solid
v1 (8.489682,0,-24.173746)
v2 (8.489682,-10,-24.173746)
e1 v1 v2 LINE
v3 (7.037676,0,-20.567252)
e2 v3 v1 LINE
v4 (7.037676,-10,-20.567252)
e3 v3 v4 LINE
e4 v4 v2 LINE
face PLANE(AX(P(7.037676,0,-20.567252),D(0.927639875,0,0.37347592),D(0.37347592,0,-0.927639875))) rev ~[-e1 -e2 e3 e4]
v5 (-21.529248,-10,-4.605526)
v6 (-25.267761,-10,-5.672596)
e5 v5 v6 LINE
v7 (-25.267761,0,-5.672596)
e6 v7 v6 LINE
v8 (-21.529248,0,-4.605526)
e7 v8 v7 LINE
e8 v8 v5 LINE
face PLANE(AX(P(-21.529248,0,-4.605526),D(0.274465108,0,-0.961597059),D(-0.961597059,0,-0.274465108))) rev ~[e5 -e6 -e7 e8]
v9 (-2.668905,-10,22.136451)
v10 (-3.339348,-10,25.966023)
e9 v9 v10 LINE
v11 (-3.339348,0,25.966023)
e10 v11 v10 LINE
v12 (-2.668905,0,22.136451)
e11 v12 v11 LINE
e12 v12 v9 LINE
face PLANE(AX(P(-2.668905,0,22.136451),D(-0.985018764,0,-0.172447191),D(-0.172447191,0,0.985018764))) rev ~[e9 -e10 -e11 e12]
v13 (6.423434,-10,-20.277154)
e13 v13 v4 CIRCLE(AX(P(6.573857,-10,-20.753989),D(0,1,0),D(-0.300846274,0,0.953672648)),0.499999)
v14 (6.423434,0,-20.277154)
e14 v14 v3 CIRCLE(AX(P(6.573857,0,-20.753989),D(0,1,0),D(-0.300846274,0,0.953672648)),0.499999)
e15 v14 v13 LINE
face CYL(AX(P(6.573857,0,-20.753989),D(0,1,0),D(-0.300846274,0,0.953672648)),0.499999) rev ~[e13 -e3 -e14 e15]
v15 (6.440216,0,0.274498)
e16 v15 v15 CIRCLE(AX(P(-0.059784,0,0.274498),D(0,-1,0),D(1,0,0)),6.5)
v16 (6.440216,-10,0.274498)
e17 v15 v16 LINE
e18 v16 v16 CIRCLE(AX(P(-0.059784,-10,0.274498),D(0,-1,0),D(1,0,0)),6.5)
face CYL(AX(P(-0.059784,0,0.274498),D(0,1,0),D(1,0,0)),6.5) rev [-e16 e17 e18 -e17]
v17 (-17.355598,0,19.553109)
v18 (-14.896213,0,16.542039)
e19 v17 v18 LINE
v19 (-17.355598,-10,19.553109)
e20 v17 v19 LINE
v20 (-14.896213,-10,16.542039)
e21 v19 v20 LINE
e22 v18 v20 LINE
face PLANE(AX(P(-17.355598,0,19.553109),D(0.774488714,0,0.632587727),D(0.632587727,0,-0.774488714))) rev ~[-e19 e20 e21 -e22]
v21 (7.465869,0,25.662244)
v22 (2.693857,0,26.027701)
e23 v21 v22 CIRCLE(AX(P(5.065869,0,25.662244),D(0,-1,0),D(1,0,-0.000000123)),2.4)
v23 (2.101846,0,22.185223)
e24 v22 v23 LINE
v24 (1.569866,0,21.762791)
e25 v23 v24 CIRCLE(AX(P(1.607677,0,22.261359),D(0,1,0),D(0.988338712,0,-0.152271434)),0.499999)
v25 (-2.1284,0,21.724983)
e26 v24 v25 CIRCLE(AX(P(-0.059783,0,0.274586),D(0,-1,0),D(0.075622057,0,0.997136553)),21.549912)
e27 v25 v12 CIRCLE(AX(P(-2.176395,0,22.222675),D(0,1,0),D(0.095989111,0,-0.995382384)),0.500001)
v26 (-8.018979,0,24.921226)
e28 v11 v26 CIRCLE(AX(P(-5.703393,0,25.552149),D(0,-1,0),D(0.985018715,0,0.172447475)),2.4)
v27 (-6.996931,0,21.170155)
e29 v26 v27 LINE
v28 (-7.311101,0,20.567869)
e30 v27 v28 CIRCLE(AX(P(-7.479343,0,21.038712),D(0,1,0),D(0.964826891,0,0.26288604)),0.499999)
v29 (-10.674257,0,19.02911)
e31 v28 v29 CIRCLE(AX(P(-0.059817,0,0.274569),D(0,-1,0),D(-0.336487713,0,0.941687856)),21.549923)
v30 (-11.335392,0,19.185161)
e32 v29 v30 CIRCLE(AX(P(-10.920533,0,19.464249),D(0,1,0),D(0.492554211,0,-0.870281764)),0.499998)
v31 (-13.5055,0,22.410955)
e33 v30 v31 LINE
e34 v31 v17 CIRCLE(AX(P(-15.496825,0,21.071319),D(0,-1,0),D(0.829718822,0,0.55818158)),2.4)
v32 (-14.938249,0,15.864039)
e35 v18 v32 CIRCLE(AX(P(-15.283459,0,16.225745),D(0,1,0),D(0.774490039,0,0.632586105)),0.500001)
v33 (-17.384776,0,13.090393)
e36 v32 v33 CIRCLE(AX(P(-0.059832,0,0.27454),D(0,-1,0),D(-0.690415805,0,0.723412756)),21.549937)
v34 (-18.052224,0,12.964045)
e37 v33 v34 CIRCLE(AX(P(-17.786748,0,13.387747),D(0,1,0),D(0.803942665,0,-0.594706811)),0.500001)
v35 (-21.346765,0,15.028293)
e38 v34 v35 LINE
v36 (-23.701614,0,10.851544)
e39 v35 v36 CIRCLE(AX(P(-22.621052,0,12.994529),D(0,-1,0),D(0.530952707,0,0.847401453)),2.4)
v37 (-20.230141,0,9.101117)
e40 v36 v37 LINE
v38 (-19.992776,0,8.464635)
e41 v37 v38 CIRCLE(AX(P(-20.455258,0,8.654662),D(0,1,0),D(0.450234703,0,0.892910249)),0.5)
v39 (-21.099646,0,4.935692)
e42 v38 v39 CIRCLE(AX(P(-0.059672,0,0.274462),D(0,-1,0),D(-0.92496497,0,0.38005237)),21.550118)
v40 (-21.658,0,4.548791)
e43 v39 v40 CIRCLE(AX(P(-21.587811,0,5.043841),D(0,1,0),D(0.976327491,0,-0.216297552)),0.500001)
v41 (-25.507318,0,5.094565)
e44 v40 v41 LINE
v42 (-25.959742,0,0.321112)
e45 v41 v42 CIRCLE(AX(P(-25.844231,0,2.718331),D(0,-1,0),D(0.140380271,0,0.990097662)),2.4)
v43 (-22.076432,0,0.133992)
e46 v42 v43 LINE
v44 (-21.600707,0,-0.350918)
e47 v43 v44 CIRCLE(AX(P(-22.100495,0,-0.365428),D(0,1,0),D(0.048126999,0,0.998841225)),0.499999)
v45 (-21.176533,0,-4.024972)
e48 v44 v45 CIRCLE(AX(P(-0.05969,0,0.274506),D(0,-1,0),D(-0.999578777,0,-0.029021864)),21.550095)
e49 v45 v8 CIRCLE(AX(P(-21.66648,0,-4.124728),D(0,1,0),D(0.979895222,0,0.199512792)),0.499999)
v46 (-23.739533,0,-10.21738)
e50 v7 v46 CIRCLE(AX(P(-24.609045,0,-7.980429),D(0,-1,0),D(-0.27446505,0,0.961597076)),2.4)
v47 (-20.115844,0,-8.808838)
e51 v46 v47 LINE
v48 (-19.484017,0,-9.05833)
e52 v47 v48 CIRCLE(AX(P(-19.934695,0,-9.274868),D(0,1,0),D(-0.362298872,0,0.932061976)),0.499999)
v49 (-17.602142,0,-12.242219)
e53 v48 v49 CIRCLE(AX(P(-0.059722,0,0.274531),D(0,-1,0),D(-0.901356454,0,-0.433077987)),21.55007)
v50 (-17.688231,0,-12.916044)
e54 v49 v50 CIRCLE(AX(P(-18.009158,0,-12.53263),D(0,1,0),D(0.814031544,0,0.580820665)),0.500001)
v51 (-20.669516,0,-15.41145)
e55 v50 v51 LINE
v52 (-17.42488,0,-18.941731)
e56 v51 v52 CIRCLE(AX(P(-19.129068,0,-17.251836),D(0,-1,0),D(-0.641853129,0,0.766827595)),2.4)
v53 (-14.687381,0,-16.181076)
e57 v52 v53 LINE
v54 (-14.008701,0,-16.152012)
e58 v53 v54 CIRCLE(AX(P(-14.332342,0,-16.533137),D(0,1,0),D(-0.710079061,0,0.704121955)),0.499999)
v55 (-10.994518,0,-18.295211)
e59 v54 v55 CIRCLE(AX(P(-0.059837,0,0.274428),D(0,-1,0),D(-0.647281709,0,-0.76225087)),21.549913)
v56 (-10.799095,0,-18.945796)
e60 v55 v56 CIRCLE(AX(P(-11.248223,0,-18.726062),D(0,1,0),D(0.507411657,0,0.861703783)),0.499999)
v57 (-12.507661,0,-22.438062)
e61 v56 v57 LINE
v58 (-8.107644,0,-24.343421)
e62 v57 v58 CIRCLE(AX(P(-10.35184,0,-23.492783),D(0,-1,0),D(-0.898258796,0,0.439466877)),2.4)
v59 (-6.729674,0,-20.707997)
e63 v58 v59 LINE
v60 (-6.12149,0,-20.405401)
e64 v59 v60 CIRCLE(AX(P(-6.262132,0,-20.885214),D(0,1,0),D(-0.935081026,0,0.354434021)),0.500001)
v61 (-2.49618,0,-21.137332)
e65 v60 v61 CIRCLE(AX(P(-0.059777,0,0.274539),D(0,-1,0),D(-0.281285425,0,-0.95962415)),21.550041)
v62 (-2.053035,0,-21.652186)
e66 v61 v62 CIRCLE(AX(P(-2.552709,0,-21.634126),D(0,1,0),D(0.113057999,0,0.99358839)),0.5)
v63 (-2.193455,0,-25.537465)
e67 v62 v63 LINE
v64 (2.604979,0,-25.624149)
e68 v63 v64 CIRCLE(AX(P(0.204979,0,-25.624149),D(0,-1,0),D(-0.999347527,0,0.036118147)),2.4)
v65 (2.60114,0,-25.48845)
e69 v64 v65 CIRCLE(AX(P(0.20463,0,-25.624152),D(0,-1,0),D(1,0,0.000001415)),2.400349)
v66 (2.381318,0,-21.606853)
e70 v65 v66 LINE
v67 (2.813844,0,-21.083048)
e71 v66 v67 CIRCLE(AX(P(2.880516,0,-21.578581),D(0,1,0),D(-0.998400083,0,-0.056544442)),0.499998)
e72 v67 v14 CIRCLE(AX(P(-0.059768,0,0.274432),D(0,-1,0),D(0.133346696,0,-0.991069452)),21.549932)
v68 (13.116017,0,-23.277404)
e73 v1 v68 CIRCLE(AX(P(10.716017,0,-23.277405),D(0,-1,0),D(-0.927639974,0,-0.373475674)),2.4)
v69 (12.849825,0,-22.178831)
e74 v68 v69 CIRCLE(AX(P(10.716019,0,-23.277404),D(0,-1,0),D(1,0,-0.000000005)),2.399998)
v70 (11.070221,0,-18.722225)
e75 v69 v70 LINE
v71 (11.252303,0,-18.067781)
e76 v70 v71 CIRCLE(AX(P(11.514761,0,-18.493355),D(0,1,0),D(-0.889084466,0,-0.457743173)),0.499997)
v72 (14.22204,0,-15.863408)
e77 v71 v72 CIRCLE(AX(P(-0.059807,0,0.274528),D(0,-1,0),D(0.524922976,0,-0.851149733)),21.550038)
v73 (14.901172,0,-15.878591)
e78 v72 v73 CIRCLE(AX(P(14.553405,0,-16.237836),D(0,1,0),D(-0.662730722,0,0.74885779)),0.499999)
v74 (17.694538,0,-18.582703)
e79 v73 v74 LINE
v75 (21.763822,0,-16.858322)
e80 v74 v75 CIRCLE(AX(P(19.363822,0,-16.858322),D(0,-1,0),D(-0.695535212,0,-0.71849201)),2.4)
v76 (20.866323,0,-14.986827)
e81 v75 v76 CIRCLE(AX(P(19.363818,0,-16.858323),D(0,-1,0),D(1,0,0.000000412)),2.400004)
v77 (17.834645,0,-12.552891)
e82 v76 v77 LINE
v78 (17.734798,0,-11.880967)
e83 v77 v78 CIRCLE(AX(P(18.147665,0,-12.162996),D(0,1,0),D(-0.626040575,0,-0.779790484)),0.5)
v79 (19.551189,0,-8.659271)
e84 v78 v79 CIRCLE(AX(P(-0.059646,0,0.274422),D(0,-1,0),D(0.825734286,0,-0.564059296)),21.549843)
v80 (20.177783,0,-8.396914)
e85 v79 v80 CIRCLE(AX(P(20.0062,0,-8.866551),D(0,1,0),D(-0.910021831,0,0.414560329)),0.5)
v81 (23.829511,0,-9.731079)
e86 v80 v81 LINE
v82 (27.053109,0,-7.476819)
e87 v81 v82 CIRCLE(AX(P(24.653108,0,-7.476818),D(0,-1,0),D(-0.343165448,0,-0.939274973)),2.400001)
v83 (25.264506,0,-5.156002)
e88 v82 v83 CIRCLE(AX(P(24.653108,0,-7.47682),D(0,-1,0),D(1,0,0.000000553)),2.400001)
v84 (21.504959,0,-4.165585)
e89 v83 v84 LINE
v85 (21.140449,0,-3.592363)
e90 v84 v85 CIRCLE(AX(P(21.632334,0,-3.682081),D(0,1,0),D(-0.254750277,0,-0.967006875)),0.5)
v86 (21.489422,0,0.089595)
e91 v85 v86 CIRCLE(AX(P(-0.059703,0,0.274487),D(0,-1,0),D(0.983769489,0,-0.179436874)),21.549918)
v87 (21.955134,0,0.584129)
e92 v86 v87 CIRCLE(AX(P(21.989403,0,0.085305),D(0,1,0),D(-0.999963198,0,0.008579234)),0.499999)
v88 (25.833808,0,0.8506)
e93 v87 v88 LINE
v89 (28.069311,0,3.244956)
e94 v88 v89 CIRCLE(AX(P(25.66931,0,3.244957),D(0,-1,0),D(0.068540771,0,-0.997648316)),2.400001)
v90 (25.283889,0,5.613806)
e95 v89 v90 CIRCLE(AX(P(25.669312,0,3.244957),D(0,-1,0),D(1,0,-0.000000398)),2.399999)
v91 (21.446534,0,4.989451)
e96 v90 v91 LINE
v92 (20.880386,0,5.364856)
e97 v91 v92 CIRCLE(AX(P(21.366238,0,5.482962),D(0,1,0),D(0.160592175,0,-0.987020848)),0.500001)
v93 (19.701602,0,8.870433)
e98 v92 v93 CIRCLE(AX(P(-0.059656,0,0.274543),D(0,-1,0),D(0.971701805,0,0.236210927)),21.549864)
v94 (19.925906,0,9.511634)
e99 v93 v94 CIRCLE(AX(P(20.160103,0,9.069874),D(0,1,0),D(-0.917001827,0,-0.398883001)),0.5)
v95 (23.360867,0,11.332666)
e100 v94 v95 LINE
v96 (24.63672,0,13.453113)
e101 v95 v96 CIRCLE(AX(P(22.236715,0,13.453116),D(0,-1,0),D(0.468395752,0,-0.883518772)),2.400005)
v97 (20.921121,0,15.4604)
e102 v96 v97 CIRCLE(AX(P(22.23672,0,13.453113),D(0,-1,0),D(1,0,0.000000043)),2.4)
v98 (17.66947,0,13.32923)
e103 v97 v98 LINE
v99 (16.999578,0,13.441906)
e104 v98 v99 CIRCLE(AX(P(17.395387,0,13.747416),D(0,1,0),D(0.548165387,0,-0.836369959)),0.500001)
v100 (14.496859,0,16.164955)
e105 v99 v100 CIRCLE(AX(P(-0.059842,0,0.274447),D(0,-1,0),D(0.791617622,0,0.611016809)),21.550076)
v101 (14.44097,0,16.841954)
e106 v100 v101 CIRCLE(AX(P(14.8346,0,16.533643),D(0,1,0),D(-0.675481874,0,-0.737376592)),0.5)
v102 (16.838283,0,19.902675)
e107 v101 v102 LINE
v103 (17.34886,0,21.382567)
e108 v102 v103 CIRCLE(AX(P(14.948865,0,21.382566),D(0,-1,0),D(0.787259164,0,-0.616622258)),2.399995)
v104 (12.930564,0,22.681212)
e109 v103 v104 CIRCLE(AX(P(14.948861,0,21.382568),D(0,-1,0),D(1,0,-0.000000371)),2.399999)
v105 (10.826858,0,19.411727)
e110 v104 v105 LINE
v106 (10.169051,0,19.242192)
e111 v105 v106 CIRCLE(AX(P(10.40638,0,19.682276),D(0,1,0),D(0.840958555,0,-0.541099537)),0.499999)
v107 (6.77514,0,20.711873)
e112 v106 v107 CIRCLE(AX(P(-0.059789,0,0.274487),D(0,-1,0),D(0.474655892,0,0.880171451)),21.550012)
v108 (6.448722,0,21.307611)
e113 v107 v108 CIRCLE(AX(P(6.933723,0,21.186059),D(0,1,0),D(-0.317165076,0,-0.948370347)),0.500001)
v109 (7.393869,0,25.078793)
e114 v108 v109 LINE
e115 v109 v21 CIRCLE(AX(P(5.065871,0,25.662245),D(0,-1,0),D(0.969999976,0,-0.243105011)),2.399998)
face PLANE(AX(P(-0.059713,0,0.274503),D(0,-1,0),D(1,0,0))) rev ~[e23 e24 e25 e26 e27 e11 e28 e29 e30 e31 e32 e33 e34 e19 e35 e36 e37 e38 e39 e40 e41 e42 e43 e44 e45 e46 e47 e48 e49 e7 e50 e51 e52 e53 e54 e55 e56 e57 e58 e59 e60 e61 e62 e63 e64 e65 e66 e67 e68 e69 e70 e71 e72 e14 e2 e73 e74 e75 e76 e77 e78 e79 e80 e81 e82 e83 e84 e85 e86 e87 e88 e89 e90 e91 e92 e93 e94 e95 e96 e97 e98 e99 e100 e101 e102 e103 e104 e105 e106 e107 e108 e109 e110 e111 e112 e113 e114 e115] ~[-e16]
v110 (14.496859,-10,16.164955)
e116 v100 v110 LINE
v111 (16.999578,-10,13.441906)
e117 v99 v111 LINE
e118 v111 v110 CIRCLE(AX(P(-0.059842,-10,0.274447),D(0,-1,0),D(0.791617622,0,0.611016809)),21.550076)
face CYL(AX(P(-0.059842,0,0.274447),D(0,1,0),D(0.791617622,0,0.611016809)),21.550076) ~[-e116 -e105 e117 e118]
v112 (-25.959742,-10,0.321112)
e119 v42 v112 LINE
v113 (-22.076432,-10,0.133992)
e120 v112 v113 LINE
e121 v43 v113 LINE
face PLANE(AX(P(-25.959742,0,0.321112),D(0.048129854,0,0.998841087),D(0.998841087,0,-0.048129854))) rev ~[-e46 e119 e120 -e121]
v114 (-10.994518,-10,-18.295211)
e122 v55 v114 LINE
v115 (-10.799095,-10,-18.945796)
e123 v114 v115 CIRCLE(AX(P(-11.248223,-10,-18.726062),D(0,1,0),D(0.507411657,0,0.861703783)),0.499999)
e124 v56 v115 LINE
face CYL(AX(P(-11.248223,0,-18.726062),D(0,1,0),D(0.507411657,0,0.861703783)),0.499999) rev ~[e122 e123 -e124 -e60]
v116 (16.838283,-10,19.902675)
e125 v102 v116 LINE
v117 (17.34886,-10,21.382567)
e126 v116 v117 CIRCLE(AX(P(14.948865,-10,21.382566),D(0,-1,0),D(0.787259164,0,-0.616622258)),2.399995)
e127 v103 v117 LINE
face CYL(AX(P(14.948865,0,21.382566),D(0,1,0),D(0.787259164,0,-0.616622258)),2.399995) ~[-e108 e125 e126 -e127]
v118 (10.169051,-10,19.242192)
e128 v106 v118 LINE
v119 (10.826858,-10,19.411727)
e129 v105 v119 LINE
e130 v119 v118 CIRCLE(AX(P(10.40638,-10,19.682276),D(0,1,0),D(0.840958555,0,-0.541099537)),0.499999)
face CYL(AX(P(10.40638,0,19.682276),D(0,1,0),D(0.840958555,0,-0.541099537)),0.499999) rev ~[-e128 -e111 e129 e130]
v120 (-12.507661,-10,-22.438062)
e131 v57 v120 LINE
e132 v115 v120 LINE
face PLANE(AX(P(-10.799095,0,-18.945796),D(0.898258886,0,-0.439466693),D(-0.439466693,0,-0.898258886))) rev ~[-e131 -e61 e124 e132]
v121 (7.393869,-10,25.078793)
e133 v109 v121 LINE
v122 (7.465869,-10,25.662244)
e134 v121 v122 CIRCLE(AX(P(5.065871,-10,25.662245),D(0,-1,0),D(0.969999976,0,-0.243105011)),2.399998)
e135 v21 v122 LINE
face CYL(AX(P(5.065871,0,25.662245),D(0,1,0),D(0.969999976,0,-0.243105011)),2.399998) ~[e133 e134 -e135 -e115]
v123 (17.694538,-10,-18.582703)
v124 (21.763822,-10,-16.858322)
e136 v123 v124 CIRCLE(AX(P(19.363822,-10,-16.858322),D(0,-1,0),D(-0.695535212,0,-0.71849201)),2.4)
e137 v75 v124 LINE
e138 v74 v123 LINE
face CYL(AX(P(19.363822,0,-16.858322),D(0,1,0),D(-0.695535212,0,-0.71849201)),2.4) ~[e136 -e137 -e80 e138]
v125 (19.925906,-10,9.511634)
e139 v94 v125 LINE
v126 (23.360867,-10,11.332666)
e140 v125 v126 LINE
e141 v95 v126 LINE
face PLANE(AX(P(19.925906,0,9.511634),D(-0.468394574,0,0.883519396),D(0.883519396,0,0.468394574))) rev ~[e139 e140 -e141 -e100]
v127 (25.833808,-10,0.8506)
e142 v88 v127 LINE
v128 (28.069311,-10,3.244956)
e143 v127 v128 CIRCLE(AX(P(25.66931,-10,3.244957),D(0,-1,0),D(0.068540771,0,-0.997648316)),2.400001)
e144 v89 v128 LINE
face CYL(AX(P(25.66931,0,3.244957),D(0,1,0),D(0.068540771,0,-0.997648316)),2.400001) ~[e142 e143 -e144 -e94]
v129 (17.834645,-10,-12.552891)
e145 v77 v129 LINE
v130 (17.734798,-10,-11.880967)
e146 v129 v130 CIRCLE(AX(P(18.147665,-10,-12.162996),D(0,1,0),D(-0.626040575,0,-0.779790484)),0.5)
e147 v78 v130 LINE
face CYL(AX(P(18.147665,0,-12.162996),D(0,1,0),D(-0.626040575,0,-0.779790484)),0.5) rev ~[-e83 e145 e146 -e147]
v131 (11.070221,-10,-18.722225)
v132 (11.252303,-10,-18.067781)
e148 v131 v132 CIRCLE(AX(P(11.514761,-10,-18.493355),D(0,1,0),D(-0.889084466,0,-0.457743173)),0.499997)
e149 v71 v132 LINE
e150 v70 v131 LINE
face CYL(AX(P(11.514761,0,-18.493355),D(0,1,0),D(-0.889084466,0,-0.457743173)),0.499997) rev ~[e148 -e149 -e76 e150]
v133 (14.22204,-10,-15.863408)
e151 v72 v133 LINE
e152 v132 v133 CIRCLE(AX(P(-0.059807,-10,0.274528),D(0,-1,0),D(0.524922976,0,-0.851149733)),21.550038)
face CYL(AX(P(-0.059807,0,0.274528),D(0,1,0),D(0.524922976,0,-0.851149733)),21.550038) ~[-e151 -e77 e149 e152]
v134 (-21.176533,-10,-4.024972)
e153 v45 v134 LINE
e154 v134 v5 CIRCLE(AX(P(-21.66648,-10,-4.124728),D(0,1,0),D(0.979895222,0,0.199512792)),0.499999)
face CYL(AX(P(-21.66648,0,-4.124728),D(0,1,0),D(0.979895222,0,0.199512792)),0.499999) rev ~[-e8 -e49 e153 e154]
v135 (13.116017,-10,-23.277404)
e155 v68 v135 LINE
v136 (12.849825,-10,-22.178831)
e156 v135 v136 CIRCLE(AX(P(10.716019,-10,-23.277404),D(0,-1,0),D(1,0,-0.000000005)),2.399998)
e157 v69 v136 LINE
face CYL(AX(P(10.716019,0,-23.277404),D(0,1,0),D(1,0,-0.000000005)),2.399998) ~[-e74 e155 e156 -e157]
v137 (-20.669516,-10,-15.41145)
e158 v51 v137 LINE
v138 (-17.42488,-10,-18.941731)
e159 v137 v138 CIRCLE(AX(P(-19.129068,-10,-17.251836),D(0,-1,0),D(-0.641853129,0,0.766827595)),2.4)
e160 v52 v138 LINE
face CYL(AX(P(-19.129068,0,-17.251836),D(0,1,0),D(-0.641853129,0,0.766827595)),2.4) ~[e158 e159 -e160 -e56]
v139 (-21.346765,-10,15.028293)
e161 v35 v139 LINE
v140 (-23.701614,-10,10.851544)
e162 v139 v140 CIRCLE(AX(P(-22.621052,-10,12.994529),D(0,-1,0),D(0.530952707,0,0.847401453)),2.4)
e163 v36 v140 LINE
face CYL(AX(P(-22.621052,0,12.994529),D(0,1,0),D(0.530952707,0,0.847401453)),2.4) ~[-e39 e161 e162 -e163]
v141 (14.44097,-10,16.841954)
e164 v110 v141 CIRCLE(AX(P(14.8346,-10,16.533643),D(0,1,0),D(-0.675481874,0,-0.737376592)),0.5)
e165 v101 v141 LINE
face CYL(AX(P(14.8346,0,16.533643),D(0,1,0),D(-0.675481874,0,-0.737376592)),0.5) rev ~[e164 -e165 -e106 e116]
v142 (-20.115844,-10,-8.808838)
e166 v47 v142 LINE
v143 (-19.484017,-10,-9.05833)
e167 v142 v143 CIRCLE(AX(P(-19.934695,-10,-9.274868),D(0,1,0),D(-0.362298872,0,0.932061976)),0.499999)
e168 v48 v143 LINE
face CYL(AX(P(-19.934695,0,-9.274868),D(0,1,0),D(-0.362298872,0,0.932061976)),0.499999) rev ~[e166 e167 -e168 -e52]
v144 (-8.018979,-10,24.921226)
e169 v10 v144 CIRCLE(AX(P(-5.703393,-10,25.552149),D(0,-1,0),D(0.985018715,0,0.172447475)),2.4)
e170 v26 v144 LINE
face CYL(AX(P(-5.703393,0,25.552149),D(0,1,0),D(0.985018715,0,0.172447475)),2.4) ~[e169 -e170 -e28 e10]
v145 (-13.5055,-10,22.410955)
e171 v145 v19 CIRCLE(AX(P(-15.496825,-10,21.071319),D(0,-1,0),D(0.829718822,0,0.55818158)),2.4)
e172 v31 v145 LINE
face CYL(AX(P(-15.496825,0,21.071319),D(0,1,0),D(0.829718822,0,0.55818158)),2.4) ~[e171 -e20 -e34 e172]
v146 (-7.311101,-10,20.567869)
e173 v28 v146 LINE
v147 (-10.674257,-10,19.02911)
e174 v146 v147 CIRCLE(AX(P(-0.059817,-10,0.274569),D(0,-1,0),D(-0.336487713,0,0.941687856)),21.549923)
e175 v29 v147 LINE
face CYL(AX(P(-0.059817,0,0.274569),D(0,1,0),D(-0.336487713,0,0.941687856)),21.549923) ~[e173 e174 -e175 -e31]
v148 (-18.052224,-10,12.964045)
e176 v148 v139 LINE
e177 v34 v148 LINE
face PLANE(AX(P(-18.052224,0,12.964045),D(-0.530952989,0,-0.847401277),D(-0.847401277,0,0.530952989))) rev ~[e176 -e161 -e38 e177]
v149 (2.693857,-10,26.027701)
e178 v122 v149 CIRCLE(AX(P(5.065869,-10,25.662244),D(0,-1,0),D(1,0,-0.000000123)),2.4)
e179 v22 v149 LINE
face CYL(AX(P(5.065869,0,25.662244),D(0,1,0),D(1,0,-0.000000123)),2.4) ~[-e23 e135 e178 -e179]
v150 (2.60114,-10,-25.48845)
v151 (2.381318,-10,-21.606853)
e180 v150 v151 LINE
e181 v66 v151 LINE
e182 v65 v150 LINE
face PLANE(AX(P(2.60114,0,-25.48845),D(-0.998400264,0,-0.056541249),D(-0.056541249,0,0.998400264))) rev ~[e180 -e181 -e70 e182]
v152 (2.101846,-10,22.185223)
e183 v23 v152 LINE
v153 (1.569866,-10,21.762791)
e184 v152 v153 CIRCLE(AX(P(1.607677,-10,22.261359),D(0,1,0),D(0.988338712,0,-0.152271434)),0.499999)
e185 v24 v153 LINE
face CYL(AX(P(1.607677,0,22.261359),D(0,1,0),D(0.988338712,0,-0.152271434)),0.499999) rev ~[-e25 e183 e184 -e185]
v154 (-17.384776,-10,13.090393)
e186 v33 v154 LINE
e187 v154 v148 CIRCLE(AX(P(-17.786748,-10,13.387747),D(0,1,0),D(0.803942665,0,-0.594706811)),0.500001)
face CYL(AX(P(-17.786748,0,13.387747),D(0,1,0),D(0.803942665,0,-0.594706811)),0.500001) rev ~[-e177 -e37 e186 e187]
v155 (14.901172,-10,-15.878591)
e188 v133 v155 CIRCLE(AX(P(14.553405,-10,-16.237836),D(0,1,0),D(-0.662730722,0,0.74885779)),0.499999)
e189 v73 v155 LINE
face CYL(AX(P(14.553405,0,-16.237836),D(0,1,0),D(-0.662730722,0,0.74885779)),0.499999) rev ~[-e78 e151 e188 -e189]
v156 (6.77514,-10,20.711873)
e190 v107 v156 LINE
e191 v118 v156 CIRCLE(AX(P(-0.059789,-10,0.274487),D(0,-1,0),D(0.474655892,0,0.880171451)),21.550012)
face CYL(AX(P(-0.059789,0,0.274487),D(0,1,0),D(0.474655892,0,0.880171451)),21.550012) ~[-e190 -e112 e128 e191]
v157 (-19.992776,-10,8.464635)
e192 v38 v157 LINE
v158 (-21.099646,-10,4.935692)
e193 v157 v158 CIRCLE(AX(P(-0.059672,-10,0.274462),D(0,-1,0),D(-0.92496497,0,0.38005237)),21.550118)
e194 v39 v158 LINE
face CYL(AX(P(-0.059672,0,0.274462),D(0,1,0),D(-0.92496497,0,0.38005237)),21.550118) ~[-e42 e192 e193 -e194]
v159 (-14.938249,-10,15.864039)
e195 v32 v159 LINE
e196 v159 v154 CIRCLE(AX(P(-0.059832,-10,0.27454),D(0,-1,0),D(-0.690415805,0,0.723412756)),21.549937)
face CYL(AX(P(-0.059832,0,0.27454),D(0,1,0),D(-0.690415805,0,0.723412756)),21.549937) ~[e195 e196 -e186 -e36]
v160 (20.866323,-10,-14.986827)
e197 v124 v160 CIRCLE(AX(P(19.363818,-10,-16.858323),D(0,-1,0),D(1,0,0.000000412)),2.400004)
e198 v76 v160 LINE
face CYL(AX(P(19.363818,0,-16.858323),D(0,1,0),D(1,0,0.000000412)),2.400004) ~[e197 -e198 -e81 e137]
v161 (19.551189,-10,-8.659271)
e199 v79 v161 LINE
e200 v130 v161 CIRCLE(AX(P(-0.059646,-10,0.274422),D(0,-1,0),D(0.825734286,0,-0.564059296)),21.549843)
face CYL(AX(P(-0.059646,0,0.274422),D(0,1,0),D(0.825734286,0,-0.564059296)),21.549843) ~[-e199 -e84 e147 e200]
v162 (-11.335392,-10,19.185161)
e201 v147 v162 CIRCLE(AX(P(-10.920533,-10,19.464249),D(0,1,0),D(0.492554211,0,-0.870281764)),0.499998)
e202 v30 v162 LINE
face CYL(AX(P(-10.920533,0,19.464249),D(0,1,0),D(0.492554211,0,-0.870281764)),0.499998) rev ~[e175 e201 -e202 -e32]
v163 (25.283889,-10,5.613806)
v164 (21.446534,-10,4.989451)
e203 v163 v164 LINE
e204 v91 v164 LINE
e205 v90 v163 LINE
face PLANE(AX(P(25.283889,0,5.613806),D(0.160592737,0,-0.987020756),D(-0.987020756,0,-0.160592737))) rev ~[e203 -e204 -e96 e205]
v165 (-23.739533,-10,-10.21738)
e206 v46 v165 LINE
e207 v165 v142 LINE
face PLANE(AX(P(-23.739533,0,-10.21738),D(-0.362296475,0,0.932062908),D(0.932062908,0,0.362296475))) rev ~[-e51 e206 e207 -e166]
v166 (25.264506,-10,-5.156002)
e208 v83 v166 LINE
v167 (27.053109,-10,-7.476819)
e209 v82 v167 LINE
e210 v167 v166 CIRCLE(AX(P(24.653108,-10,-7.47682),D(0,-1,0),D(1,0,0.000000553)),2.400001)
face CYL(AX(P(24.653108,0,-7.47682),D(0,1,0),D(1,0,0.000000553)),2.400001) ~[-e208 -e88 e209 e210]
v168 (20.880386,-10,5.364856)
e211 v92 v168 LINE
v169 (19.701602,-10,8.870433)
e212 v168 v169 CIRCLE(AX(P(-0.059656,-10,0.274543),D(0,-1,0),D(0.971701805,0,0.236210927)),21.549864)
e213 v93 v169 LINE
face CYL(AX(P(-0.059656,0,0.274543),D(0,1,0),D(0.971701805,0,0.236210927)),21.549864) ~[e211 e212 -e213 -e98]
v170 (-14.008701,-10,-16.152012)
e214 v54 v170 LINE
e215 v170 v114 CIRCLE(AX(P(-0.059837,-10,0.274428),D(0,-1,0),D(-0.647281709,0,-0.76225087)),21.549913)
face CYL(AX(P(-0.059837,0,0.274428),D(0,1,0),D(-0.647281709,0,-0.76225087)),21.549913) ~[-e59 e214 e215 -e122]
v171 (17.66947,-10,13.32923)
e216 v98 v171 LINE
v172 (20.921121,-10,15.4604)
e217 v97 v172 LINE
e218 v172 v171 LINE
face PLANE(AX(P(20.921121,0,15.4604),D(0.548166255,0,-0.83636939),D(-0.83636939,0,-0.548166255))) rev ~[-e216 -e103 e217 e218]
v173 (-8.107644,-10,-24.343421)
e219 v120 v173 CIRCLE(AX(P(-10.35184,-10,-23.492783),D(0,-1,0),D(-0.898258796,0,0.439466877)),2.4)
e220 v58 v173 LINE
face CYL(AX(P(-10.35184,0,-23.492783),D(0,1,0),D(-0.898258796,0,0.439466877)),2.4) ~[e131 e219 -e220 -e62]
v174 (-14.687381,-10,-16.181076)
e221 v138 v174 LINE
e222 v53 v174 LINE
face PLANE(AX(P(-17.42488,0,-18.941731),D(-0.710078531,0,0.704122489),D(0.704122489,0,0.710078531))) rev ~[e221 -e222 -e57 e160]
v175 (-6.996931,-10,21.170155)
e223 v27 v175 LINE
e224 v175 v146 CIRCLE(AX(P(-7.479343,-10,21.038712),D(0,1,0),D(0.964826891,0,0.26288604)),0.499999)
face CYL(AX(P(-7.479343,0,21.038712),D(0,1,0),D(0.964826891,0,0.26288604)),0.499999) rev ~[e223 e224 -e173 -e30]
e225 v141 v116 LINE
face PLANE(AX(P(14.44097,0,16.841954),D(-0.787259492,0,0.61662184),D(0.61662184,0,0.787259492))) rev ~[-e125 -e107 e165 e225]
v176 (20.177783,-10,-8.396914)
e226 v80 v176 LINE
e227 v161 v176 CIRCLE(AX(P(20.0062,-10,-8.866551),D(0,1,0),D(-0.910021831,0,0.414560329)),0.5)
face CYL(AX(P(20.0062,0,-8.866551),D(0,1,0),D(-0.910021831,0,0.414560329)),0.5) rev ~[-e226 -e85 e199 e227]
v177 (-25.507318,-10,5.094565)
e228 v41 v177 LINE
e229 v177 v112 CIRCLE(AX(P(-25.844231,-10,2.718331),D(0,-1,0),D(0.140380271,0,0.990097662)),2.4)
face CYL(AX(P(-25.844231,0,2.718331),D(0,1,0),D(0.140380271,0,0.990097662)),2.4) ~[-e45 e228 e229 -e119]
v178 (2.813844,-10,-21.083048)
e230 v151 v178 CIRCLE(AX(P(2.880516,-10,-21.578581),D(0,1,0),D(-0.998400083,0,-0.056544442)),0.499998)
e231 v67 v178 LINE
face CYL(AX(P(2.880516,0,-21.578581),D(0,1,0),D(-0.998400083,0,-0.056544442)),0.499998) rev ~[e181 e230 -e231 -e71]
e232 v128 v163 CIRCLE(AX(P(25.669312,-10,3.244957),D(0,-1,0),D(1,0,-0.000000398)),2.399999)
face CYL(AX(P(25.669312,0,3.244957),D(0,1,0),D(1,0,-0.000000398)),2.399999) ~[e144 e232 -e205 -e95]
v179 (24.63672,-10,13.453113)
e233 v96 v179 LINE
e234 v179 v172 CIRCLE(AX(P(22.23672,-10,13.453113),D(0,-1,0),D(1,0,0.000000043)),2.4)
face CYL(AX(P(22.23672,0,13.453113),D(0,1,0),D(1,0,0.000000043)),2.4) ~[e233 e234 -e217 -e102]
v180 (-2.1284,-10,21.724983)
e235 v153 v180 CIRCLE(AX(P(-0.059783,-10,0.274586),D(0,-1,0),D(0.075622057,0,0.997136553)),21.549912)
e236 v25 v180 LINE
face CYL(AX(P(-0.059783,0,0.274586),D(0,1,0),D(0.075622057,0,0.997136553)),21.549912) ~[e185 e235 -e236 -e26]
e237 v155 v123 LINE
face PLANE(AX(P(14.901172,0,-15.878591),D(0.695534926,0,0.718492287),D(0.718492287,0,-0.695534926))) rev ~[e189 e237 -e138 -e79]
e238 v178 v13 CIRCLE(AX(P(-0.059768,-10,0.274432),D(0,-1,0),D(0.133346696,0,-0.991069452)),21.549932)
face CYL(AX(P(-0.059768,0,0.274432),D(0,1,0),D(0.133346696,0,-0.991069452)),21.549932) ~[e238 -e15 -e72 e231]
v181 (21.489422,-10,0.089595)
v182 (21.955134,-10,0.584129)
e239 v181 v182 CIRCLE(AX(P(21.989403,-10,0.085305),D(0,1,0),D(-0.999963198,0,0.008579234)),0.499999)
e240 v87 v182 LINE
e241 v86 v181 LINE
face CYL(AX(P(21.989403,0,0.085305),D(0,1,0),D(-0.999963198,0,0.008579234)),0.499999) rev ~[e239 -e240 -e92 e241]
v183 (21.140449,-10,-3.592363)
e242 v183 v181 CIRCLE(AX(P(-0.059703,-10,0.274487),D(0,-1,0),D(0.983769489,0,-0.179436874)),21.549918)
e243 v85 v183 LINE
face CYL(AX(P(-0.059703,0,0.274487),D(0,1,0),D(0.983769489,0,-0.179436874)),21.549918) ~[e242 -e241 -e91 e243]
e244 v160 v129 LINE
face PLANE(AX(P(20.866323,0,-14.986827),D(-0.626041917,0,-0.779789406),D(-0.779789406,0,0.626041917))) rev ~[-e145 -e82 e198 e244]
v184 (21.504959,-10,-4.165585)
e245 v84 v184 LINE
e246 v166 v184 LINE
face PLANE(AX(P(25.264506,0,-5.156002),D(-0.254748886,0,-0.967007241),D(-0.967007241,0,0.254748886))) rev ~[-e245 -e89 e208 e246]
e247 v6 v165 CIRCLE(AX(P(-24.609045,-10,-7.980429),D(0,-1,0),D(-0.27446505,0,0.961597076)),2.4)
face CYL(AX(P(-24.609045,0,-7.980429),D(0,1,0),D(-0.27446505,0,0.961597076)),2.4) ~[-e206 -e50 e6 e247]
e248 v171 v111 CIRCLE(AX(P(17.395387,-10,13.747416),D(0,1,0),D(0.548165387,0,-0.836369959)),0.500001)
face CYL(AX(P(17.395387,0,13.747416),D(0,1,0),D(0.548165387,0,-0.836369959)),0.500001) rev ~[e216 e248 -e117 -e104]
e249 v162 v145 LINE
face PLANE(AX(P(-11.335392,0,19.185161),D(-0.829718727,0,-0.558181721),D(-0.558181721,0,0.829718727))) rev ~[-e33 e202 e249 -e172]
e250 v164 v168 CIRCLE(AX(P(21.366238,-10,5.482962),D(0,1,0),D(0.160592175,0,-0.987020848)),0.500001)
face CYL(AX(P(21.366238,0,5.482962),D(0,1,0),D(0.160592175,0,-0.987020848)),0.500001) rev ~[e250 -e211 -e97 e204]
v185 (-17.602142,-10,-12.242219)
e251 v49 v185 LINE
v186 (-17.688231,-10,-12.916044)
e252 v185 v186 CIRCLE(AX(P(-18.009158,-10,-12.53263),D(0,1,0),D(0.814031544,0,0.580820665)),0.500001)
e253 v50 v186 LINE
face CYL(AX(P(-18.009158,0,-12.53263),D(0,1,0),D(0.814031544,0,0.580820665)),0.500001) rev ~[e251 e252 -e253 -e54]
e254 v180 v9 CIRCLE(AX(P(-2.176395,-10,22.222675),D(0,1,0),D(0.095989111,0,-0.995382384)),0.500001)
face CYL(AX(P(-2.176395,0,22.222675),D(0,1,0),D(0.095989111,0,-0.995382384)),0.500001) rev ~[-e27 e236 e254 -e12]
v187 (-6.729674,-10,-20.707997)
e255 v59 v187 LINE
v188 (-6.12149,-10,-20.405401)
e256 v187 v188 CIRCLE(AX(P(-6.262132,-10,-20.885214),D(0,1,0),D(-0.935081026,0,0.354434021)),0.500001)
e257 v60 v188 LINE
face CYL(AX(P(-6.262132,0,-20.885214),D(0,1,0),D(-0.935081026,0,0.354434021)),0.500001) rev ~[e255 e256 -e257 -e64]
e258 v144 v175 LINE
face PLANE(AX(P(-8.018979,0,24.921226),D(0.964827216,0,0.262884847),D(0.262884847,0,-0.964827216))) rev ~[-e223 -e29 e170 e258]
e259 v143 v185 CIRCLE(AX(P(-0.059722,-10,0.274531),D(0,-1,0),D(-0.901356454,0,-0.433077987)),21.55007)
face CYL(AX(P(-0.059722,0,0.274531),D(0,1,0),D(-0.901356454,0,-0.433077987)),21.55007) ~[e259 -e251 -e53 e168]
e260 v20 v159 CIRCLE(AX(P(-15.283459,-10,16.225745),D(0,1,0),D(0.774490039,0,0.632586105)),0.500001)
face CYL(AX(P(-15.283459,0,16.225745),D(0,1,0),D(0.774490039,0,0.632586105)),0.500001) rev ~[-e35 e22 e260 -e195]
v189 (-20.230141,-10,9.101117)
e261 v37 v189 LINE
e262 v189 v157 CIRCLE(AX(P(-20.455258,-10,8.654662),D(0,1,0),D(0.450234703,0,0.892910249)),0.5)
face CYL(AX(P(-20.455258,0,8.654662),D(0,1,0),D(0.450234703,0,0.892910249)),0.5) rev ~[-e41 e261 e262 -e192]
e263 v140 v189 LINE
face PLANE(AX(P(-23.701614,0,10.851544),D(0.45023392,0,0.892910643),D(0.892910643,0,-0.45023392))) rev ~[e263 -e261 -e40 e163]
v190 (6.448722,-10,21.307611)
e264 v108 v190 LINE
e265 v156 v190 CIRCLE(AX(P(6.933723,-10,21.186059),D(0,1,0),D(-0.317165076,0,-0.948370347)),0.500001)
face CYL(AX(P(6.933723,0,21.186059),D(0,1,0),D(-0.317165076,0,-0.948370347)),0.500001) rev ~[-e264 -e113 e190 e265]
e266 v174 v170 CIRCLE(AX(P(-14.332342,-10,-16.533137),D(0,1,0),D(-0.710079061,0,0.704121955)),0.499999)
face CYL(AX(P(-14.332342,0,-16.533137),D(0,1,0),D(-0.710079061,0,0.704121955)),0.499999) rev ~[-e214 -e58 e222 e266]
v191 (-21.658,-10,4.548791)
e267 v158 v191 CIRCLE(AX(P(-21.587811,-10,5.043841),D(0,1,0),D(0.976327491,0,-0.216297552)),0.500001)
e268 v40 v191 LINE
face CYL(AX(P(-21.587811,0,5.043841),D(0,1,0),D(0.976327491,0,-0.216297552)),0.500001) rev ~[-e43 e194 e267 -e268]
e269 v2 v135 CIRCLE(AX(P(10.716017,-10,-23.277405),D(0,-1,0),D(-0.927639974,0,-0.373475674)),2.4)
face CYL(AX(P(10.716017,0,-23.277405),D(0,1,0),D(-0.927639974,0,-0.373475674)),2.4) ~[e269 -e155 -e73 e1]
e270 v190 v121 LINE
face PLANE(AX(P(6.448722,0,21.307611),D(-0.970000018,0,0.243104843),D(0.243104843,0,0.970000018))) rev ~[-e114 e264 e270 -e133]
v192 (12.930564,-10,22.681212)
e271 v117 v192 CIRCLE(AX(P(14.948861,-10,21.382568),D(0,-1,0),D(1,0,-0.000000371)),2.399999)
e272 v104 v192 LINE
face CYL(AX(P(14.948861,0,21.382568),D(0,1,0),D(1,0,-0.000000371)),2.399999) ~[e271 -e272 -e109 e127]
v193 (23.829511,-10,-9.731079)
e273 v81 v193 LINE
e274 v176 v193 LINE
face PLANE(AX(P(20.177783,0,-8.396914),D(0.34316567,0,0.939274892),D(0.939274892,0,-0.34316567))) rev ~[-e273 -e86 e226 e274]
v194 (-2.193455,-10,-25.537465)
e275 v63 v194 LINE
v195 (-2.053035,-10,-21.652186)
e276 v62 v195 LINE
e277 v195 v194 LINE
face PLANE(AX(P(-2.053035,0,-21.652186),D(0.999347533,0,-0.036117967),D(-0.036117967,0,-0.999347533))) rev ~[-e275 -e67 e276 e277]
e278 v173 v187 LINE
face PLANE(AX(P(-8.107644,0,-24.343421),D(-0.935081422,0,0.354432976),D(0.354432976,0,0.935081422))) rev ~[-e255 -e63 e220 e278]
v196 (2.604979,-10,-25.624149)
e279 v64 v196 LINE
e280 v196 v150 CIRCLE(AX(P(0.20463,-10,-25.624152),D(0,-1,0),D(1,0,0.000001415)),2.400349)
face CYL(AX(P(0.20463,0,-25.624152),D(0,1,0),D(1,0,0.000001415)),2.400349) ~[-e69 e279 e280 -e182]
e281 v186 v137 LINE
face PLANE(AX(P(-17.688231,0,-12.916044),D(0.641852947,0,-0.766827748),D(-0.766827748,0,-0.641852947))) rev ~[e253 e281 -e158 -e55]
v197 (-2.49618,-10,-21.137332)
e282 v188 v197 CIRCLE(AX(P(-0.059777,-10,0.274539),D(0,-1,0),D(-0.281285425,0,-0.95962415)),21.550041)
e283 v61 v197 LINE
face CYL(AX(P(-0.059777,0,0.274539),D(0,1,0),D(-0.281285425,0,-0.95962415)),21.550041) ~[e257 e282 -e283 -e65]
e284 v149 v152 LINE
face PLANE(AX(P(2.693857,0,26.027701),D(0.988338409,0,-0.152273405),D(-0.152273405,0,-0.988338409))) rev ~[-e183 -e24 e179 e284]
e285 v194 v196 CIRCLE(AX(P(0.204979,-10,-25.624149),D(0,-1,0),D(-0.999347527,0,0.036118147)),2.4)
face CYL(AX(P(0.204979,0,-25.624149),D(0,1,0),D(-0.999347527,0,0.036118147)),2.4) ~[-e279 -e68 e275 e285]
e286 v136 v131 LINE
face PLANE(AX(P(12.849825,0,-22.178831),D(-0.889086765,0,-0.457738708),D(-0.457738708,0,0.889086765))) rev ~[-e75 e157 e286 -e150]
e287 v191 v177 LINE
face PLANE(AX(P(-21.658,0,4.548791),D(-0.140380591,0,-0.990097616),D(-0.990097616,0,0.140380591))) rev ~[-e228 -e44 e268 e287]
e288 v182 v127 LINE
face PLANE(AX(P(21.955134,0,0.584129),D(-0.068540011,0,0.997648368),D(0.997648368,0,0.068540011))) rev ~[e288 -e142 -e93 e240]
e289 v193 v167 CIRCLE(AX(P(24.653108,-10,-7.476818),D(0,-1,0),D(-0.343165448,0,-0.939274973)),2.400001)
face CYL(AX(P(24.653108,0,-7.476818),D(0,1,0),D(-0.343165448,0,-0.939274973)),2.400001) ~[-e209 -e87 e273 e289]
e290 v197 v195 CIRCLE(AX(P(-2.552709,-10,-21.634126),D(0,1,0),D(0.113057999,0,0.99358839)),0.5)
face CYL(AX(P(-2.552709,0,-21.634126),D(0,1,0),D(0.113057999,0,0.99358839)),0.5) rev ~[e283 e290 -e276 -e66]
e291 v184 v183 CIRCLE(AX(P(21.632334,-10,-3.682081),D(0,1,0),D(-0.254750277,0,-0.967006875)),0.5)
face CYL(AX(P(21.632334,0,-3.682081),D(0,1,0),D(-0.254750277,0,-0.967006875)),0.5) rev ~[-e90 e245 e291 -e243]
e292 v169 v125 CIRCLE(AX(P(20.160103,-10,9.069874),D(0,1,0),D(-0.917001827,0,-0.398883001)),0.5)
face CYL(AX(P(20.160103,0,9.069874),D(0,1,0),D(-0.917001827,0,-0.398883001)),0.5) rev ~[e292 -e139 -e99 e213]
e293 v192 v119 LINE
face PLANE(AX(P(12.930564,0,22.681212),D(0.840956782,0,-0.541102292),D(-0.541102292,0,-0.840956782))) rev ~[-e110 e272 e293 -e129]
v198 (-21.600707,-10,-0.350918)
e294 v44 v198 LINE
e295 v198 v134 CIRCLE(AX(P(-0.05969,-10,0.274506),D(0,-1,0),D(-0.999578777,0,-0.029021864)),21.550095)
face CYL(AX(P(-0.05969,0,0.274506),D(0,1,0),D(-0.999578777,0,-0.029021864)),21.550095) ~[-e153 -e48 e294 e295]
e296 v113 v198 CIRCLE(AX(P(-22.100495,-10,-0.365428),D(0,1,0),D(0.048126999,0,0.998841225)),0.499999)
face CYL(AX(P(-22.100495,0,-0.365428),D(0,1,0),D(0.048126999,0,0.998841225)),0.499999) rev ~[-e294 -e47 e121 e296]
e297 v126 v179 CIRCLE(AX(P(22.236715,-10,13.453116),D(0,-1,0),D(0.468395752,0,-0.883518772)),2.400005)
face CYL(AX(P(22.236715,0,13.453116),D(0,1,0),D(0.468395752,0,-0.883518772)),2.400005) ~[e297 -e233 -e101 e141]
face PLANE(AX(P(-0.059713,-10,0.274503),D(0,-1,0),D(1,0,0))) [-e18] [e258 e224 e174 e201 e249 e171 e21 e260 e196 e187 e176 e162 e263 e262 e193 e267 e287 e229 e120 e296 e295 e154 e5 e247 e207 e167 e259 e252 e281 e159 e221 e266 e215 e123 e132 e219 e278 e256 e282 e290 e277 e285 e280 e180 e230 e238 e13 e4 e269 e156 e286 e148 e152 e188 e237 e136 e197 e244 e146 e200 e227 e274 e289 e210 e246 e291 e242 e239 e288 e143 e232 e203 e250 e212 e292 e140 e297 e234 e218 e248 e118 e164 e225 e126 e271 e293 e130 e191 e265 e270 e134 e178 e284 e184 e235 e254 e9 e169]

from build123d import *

# Parameters (mm, degrees)
F0_R     = 6.5
F1_DEPTH = 10


with BuildPart() as f1:
    # F0 (on Front) → F1 (new body)
    with BuildSketch(Plane.XZ):
        with BuildLine():
            ThreePointArc((21.489422, 0.089595), (21.490017, 0.182046), (21.490216, 0.274498))
            ThreePointArc((21.490216, 0.274498), (21.337215, 2.837876), (20.880386, 5.364856))
            ThreePointArc((20.880386, 5.364856), (20.366338, 7.142979), (19.701602, 8.870433))
            ThreePointArc((19.701602, 8.870433), (18.49194, 11.239716), (16.999578, 13.441906))
            ThreePointArc((16.999578, 13.441906), (15.806743, 14.85722), (14.496859, 16.164955))
            ThreePointArc((14.496859, 16.164955), (12.428103, 17.837389), (10.169051, 19.242192))
            ThreePointArc((10.169051, 19.242192), (8.503682, 20.049976), (6.77514, 20.711873))
            ThreePointArc((6.77514, 20.711873), (4.204997, 21.398279), (1.569866, 21.762791))
            ThreePointArc((1.569866, 21.762791), (-0.28008, 21.823372), (-2.1284, 21.724983))
            ThreePointArc((-2.1284, 21.724983), (-4.755529, 21.306675), (-7.311101, 20.567869))
            ThreePointArc((-7.311101, 20.567869), (-9.025751, 19.870772), (-10.674257, 19.02911))
            ThreePointArc((-10.674257, 19.02911), (-12.904117, 17.578417), (-14.938249, 15.864039))
            ThreePointArc((-14.938249, 15.864039), (-16.221125, 14.529798), (-17.384776, 13.090393))
            ThreePointArc((-17.384776, 13.090393), (-18.831804, 10.858154), (-19.992776, 8.464635))
            ThreePointArc((-19.992776, 8.464635), (-20.622056, 6.723953), (-21.099646, 4.935692))
            ThreePointArc((-21.099646, 4.935692), (-21.513639, 2.30788), (-21.600707, -0.350918))
            ThreePointArc((-21.600707, -0.350918), (-21.467584, -2.197061), (-21.176533, -4.024972))
            ThreePointArc((-21.176533, -4.024972), (-20.485906, -6.593984), (-19.484017, -9.05833))
            ThreePointArc((-19.484017, -9.05833), (-18.611509, -10.69072), (-17.602142, -12.242219))
            ThreePointArc((-17.602142, -12.242219), (-15.926312, -14.308225), (-14.008701, -16.152012))
            ThreePointArc((-14.008701, -16.152012), (-12.547672, -17.288394), (-10.994518, -18.295211))
            ThreePointArc((-10.994518, -18.295211), (-8.623251, -19.50098), (-6.12149, -20.405401))
            ThreePointArc((-6.12149, -20.405401), (-4.324566, -20.849283), (-2.49618, -21.137332))
            ThreePointArc((-2.49618, -21.137332), (0.160511, -21.274376), (2.813844, -21.083048))
            ThreePointArc((2.813844, -21.083048), (4.63596, -20.75768), (6.423434, -20.277154))
            ThreePointArc((6.423434, -20.277154), (8.906182, -19.321776), (11.252303, -18.067781))
            ThreePointArc((11.252303, -18.067781), (12.784549, -17.029421), (14.22204, -15.863408))
            ThreePointArc((14.22204, -15.863408), (16.101556, -13.980802), (17.734798, -11.880967))
            ThreePointArc((17.734798, -11.880967), (18.712236, -10.309158), (19.551189, -8.659271))
            ThreePointArc((19.551189, -8.659271), (20.502488, -6.174957), (21.140449, -3.592363))
            ThreePointArc((21.140449, -3.592363), (21.39407, -1.758884), (21.489422, 0.089595))
        make_face()
        with Locations((-0.059784, 0.274498)):
            Circle(F0_R, mode=Mode.SUBTRACT)
        with BuildLine():
            ThreePointArc((20.880386, 5.364856), (21.337215, 2.837876), (21.490216, 0.274498))
            ThreePointArc((21.490216, 0.274498), (21.490017, 0.182046), (21.489422, 0.089595))
            ThreePointArc((21.489422, 0.089595), (21.625402, 0.428092), (21.955134, 0.584129))
            Line((21.955134, 0.584129), (25.833808, 0.8506))
            ThreePointArc((25.833808, 0.8506), (23.285148, 2.969702), (25.283889, 5.613806))
            Line((25.283889, 5.613806), (21.446534, 4.989451))
            ThreePointArc((21.446534, 4.989451), (21.089921, 5.066249), (20.880386, 5.364856))
        make_face()
        with BuildLine():
            ThreePointArc((16.999578, 13.441906), (18.49194, 11.239716), (19.701602, 8.870433))
            ThreePointArc((19.701602, 8.870433), (19.688147, 9.234973), (19.925906, 9.511634))
            Line((19.925906, 9.511634), (23.360867, 11.332666))
            ThreePointArc((23.360867, 11.332666), (20.170635, 12.231929), (20.921121, 15.4604))
            Line((20.921121, 15.4604), (17.66947, 13.32923))
            ThreePointArc((17.66947, 13.32923), (17.312452, 13.254341), (16.999578, 13.441906))
        make_face()
        with BuildLine():
            ThreePointArc((21.504959, -4.165585), (21.210414, -3.950379), (21.140449, -3.592363))
            ThreePointArc((21.140449, -3.592363), (20.502488, -6.174957), (19.551189, -8.659271))
            ThreePointArc((19.551189, -8.659271), (19.813092, -8.405347), (20.177783, -8.396914))
            Line((20.177783, -8.396914), (23.829511, -9.731079))
            ThreePointArc((23.829511, -9.731079), (22.363111, -6.75855), (25.264506, -5.156002))
            Line((25.264506, -5.156002), (21.504959, -4.165585))
        make_face()
        with BuildLine():
            ThreePointArc((28.069311, 3.244956), (27.22414, 5.073209), (25.283889, 5.613806))
            ThreePointArc((25.283889, 5.613806), (23.285148, 2.969702), (25.833808, 0.8506))
            ThreePointArc((25.833808, 0.8506), (27.423562, 1.607091), (28.069311, 3.244956))
        make_face()
        with BuildLine():
            ThreePointArc((10.169051, 19.242192), (12.428103, 17.837389), (14.496859, 16.164955))
            ThreePointArc((14.496859, 16.164955), (14.336295, 16.492507), (14.44097, 16.841954))
            Line((14.44097, 16.841954), (16.838283, 19.902675))
            ThreePointArc((16.838283, 19.902675), (13.558098, 19.426607), (12.930564, 22.681212))
            Line((12.930564, 22.681212), (10.826858, 19.411727))
            ThreePointArc((10.826858, 19.411727), (10.531165, 19.198099), (10.169051, 19.242192))
        make_face()
        with BuildLine():
            ThreePointArc((20.921121, 15.4604), (20.170635, 12.231929), (23.360867, 11.332666))
            ThreePointArc((23.360867, 11.332666), (24.293167, 12.215768), (24.63672, 13.453113))
            ThreePointArc((24.63672, 13.453113), (23.377457, 15.564681), (20.921121, 15.4604))
        make_face()
        with BuildLine():
            ThreePointArc((17.834645, -12.552891), (17.653096, -12.236488), (17.734798, -11.880967))
            ThreePointArc((17.734798, -11.880967), (16.101556, -13.980802), (14.22204, -15.863408))
            ThreePointArc((14.22204, -15.863408), (14.56458, -15.737962), (14.901172, -15.878591))
            Line((14.901172, -15.878591), (17.694538, -18.582703))
            ThreePointArc((17.694538, -18.582703), (17.563951, -15.270725), (20.866323, -14.986827))
            Line((20.866323, -14.986827), (17.834645, -12.552891))
        make_face()
        with BuildLine():
            ThreePointArc((27.053109, -7.476819), (26.554076, -6.011786), (25.264506, -5.156002))
            ThreePointArc((25.264506, -5.156002), (22.363111, -6.75855), (23.829511, -9.731079))
            ThreePointArc((23.829511, -9.731079), (26.028493, -9.443623), (27.053109, -7.476819))
        make_face()
        with BuildLine():
            ThreePointArc((1.569866, 21.762791), (4.204997, 21.398279), (6.77514, 20.711873))
            ThreePointArc((6.77514, 20.711873), (6.49523, 20.945799), (6.448722, 21.307611))
            Line((6.448722, 21.307611), (7.393869, 25.078793))
            ThreePointArc((7.393869, 25.078793), (4.590905, 23.309712), (2.693857, 26.027701))
            Line((2.693857, 26.027701), (2.101846, 22.185223))
            ThreePointArc((2.101846, 22.185223), (1.918607, 21.869795), (1.569866, 21.762791))
        make_face()
        with BuildLine():
            ThreePointArc((12.930564, 22.681212), (13.558098, 19.426607), (16.838283, 19.902675))
            ThreePointArc((16.838283, 19.902675), (17.217628, 20.59982), (17.34886, 21.382567))
            ThreePointArc((17.34886, 21.382567), (15.62565, 23.685165), (12.930564, 22.681212))
        make_face()
        with BuildLine():
            ThreePointArc((11.070221, -18.722225), (11.03306, -18.359334), (11.252303, -18.067781))
            ThreePointArc((11.252303, -18.067781), (8.906182, -19.321776), (6.423434, -20.277154))
            ThreePointArc((6.423434, -20.277154), (6.787383, -20.301877), (7.037676, -20.567252))
            Line((7.037676, -20.567252), (8.489682, -24.173746))
            ThreePointArc((8.489682, -24.173746), (9.717488, -21.094989), (12.849825, -22.178831))
            Line((12.849825, -22.178831), (11.070221, -18.722225))
        make_face()
        with BuildLine():
            ThreePointArc((21.763822, -16.858322), (21.527846, -15.820536), (20.866323, -14.986827))
            ThreePointArc((20.866323, -14.986827), (17.563951, -15.270725), (17.694538, -18.582703))
            ThreePointArc((17.694538, -18.582703), (20.30023, -19.068105), (21.763822, -16.858322))
        make_face()
        with BuildLine():
            ThreePointArc((-7.311101, 20.567869), (-4.755529, 21.306675), (-2.1284, 21.724983))
            ThreePointArc((-2.1284, 21.724983), (-2.479256, 21.824836), (-2.668905, 22.136451))
            Line((-2.668905, 22.136451), (-3.339348, 25.966023))
            ThreePointArc((-3.339348, 25.966023), (-3.312399, 25.759866), (-3.303393, 25.55215))
            ThreePointArc((-3.303393, 25.55215), (-5.385121, 23.173347), (-8.018979, 24.921226))
            Line((-8.018979, 24.921226), (-6.996931, 21.170155))
            ThreePointArc((-6.996931, 21.170155), (-7.036032, 20.807468), (-7.311101, 20.567869))
        make_face()
        with BuildLine():
            ThreePointArc((2.693857, 26.027701), (4.590905, 23.309712), (7.393869, 25.078793))
            ThreePointArc((7.393869, 25.078793), (7.447801, 25.368306), (7.465869, 25.662244))
            ThreePointArc((7.465869, 25.662244), (5.249133, 28.055237), (2.693857, 26.027701))
        make_face()
        with BuildLine():
            ThreePointArc((2.381318, -21.606853), (2.494971, -21.260221), (2.813844, -21.083048))
            ThreePointArc((2.813844, -21.083048), (0.160511, -21.274376), (-2.49618, -21.137332))
            ThreePointArc((-2.49618, -21.137332), (-2.173751, -21.30795), (-2.053035, -21.652186))
            Line((-2.053035, -21.652186), (-2.193455, -25.537465))
            ThreePointArc((-2.193455, -25.537465), (0.180445, -23.224274), (2.60114, -25.48845))
            Line((2.60114, -25.48845), (2.381318, -21.606853))
        make_face()
        with BuildLine():
            ThreePointArc((13.116017, -23.277404), (13.04852, -22.712223), (12.849825, -22.178831))
            ThreePointArc((12.849825, -22.178831), (9.717488, -21.094989), (8.489682, -24.173746))
            ThreePointArc((8.489682, -24.173746), (11.172523, -25.633588), (13.116017, -23.277404))
        make_face()
        with BuildLine():
            ThreePointArc((-14.938249, 15.864039), (-12.904117, 17.578417), (-10.674257, 19.02911))
            ThreePointArc((-10.674257, 19.02911), (-11.035394, 18.977623), (-11.335392, 19.185161))
            Line((-11.335392, 19.185161), (-13.5055, 22.410955))
            ThreePointArc((-13.5055, 22.410955), (-13.201266, 21.771612), (-13.096825, 21.071319))
            ThreePointArc((-13.096825, 21.071319), (-14.690926, 18.810672), (-17.355598, 19.553109))
            Line((-17.355598, 19.553109), (-14.896213, 16.542039))
            ThreePointArc((-14.896213, 16.542039), (-14.784416, 16.194804), (-14.938249, 15.864039))
        make_face()
        with BuildLine():
            ThreePointArc((-3.303393, 25.55215), (-3.312399, 25.759866), (-3.339348, 25.966023))
            ThreePointArc((-3.339348, 25.966023), (-6.226353, 27.89448), (-8.018979, 24.921226))
            ThreePointArc((-8.018979, 24.921226), (-5.385121, 23.173347), (-3.303393, 25.55215))
        make_face()
        with BuildLine():
            ThreePointArc((-6.729674, -20.707997), (-6.484858, -20.43756), (-6.12149, -20.405401))
            ThreePointArc((-6.12149, -20.405401), (-8.623251, -19.50098), (-10.994518, -18.295211))
            ThreePointArc((-10.994518, -18.295211), (-10.769361, -18.582222), (-10.799095, -18.945796))
            Line((-10.799095, -18.945796), (-12.507661, -22.438062))
            ThreePointArc((-12.507661, -22.438062), (-9.810532, -21.154624), (-7.95184, -23.492782))
            ThreePointArc((-7.95184, -23.492782), (-7.991112, -23.925177), (-8.107644, -24.343421))
            Line((-8.107644, -24.343421), (-6.729674, -20.707997))
        make_face()
        with BuildLine():
            ThreePointArc((2.604979, -25.624149), (2.604019, -25.556272), (2.60114, -25.48845))
            ThreePointArc((2.60114, -25.48845), (0.180445, -23.224274), (-2.193455, -25.537465))
            ThreePointArc((-2.193455, -25.537465), (0.16163, -28.023757), (2.604979, -25.624149))
        make_face()
        with BuildLine():
            ThreePointArc((-19.992776, 8.464635), (-18.831804, 10.858154), (-17.384776, 13.090393))
            ThreePointArc((-17.384776, 13.090393), (-17.693749, 12.896471), (-18.052224, 12.964045))
            Line((-18.052224, 12.964045), (-21.346765, 15.028293))
            ThreePointArc((-21.346765, 15.028293), (-20.521256, 14.156793), (-20.221052, 12.994529))
            ThreePointArc((-20.221052, 12.994529), (-21.362749, 10.950838), (-23.701614, 10.851544))
            Line((-23.701614, 10.851544), (-20.230141, 9.101117))
            ThreePointArc((-20.230141, 9.101117), (-19.986776, 8.829374), (-19.992776, 8.464635))
        make_face()
        with BuildLine():
            ThreePointArc((-13.096825, 21.071319), (-13.201266, 21.771612), (-13.5055, 22.410955))
            ThreePointArc((-13.5055, 22.410955), (-16.927284, 22.998438), (-17.355598, 19.553109))
            ThreePointArc((-17.355598, 19.553109), (-14.690926, 18.810672), (-13.096825, 21.071319))
        make_face()
        with BuildLine():
            ThreePointArc((-14.687381, -16.181076), (-14.353734, -16.033595), (-14.008701, -16.152012))
            ThreePointArc((-14.008701, -16.152012), (-15.926312, -14.308225), (-17.602142, -12.242219))
            ThreePointArc((-17.602142, -12.242219), (-17.513189, -12.595995), (-17.688231, -12.916044))
            Line((-17.688231, -12.916044), (-20.669516, -15.41145))
            ThreePointArc((-20.669516, -15.41145), (-18.113459, -15.077317), (-16.729068, -17.251837))
            ThreePointArc((-16.729068, -17.251837), (-16.909829, -18.165606), (-17.42488, -18.941731))
            Line((-17.42488, -18.941731), (-14.687381, -16.181076))
        make_face()
        with BuildLine():
            ThreePointArc((-12.507661, -22.438062), (-11.305544, -25.695156), (-8.107644, -24.343421))
            ThreePointArc((-8.107644, -24.343421), (-7.991112, -23.925177), (-7.95184, -23.492782))
            ThreePointArc((-7.95184, -23.492782), (-9.810532, -21.154624), (-12.507661, -22.438062))
        make_face()
        with BuildLine():
            ThreePointArc((-21.600707, -0.350918), (-21.513639, 2.30788), (-21.099646, 4.935692))
            ThreePointArc((-21.099646, 4.935692), (-21.303032, 4.632864), (-21.658, 4.548791))
            Line((-21.658, 4.548791), (-25.507318, 5.094565))
            ThreePointArc((-25.507318, 5.094565), (-24.031968, 4.291768), (-23.444231, 2.718331))
            ThreePointArc((-23.444231, 2.718331), (-24.188518, 0.980915), (-25.959742, 0.321112))
            Line((-25.959742, 0.321112), (-22.076432, 0.133992))
            ThreePointArc((-22.076432, 0.133992), (-21.743579, -0.015271), (-21.600707, -0.350918))
        make_face()
        with BuildLine():
            ThreePointArc((-20.221052, 12.994529), (-20.521256, 14.156793), (-21.346765, 15.028293))
            ThreePointArc((-21.346765, 15.028293), (-24.711671, 14.17322), (-23.701614, 10.851544))
            ThreePointArc((-23.701614, 10.851544), (-21.362749, 10.950838), (-20.221052, 12.994529))
        make_face()
        with BuildLine():
            ThreePointArc((-20.115844, -8.808838), (-19.751057, -8.809813), (-19.484017, -9.05833))
            ThreePointArc((-19.484017, -9.05833), (-20.485906, -6.593984), (-21.176533, -4.024972))
            ThreePointArc((-21.176533, -4.024972), (-21.239164, -4.384344), (-21.529248, -4.605526))
            Line((-21.529248, -4.605526), (-25.267761, -5.672596))
            ThreePointArc((-25.267761, -5.672596), (-23.16352, -6.064585), (-22.209045, -7.980429))
            ThreePointArc((-22.209045, -7.980429), (-22.628284, -9.335636), (-23.739533, -10.21738))
            Line((-23.739533, -10.21738), (-20.115844, -8.808838))
        make_face()
        with BuildLine():
            ThreePointArc((-20.669516, -15.41145), (-20.896106, -18.875899), (-17.42488, -18.941731))
            ThreePointArc((-17.42488, -18.941731), (-16.909829, -18.165606), (-16.729068, -17.251837))
            ThreePointArc((-16.729068, -17.251837), (-18.113459, -15.077317), (-20.669516, -15.41145))
        make_face()
        with BuildLine():
            ThreePointArc((-23.444231, 2.718331), (-24.031968, 4.291768), (-25.507318, 5.094565))
            ThreePointArc((-25.507318, 5.094565), (-28.233523, 2.944786), (-25.959742, 0.321112))
            ThreePointArc((-25.959742, 0.321112), (-24.188518, 0.980915), (-23.444231, 2.718331))
        make_face()
        with BuildLine():
            ThreePointArc((-25.267761, -5.672596), (-26.88388, -8.745364), (-23.739533, -10.21738))
            ThreePointArc((-23.739533, -10.21738), (-22.628284, -9.335636), (-22.209045, -7.980429))
            ThreePointArc((-22.209045, -7.980429), (-23.16352, -6.064585), (-25.267761, -5.672596))
        make_face()
    extrude(amount=F1_DEPTH)


solid = f1.part
